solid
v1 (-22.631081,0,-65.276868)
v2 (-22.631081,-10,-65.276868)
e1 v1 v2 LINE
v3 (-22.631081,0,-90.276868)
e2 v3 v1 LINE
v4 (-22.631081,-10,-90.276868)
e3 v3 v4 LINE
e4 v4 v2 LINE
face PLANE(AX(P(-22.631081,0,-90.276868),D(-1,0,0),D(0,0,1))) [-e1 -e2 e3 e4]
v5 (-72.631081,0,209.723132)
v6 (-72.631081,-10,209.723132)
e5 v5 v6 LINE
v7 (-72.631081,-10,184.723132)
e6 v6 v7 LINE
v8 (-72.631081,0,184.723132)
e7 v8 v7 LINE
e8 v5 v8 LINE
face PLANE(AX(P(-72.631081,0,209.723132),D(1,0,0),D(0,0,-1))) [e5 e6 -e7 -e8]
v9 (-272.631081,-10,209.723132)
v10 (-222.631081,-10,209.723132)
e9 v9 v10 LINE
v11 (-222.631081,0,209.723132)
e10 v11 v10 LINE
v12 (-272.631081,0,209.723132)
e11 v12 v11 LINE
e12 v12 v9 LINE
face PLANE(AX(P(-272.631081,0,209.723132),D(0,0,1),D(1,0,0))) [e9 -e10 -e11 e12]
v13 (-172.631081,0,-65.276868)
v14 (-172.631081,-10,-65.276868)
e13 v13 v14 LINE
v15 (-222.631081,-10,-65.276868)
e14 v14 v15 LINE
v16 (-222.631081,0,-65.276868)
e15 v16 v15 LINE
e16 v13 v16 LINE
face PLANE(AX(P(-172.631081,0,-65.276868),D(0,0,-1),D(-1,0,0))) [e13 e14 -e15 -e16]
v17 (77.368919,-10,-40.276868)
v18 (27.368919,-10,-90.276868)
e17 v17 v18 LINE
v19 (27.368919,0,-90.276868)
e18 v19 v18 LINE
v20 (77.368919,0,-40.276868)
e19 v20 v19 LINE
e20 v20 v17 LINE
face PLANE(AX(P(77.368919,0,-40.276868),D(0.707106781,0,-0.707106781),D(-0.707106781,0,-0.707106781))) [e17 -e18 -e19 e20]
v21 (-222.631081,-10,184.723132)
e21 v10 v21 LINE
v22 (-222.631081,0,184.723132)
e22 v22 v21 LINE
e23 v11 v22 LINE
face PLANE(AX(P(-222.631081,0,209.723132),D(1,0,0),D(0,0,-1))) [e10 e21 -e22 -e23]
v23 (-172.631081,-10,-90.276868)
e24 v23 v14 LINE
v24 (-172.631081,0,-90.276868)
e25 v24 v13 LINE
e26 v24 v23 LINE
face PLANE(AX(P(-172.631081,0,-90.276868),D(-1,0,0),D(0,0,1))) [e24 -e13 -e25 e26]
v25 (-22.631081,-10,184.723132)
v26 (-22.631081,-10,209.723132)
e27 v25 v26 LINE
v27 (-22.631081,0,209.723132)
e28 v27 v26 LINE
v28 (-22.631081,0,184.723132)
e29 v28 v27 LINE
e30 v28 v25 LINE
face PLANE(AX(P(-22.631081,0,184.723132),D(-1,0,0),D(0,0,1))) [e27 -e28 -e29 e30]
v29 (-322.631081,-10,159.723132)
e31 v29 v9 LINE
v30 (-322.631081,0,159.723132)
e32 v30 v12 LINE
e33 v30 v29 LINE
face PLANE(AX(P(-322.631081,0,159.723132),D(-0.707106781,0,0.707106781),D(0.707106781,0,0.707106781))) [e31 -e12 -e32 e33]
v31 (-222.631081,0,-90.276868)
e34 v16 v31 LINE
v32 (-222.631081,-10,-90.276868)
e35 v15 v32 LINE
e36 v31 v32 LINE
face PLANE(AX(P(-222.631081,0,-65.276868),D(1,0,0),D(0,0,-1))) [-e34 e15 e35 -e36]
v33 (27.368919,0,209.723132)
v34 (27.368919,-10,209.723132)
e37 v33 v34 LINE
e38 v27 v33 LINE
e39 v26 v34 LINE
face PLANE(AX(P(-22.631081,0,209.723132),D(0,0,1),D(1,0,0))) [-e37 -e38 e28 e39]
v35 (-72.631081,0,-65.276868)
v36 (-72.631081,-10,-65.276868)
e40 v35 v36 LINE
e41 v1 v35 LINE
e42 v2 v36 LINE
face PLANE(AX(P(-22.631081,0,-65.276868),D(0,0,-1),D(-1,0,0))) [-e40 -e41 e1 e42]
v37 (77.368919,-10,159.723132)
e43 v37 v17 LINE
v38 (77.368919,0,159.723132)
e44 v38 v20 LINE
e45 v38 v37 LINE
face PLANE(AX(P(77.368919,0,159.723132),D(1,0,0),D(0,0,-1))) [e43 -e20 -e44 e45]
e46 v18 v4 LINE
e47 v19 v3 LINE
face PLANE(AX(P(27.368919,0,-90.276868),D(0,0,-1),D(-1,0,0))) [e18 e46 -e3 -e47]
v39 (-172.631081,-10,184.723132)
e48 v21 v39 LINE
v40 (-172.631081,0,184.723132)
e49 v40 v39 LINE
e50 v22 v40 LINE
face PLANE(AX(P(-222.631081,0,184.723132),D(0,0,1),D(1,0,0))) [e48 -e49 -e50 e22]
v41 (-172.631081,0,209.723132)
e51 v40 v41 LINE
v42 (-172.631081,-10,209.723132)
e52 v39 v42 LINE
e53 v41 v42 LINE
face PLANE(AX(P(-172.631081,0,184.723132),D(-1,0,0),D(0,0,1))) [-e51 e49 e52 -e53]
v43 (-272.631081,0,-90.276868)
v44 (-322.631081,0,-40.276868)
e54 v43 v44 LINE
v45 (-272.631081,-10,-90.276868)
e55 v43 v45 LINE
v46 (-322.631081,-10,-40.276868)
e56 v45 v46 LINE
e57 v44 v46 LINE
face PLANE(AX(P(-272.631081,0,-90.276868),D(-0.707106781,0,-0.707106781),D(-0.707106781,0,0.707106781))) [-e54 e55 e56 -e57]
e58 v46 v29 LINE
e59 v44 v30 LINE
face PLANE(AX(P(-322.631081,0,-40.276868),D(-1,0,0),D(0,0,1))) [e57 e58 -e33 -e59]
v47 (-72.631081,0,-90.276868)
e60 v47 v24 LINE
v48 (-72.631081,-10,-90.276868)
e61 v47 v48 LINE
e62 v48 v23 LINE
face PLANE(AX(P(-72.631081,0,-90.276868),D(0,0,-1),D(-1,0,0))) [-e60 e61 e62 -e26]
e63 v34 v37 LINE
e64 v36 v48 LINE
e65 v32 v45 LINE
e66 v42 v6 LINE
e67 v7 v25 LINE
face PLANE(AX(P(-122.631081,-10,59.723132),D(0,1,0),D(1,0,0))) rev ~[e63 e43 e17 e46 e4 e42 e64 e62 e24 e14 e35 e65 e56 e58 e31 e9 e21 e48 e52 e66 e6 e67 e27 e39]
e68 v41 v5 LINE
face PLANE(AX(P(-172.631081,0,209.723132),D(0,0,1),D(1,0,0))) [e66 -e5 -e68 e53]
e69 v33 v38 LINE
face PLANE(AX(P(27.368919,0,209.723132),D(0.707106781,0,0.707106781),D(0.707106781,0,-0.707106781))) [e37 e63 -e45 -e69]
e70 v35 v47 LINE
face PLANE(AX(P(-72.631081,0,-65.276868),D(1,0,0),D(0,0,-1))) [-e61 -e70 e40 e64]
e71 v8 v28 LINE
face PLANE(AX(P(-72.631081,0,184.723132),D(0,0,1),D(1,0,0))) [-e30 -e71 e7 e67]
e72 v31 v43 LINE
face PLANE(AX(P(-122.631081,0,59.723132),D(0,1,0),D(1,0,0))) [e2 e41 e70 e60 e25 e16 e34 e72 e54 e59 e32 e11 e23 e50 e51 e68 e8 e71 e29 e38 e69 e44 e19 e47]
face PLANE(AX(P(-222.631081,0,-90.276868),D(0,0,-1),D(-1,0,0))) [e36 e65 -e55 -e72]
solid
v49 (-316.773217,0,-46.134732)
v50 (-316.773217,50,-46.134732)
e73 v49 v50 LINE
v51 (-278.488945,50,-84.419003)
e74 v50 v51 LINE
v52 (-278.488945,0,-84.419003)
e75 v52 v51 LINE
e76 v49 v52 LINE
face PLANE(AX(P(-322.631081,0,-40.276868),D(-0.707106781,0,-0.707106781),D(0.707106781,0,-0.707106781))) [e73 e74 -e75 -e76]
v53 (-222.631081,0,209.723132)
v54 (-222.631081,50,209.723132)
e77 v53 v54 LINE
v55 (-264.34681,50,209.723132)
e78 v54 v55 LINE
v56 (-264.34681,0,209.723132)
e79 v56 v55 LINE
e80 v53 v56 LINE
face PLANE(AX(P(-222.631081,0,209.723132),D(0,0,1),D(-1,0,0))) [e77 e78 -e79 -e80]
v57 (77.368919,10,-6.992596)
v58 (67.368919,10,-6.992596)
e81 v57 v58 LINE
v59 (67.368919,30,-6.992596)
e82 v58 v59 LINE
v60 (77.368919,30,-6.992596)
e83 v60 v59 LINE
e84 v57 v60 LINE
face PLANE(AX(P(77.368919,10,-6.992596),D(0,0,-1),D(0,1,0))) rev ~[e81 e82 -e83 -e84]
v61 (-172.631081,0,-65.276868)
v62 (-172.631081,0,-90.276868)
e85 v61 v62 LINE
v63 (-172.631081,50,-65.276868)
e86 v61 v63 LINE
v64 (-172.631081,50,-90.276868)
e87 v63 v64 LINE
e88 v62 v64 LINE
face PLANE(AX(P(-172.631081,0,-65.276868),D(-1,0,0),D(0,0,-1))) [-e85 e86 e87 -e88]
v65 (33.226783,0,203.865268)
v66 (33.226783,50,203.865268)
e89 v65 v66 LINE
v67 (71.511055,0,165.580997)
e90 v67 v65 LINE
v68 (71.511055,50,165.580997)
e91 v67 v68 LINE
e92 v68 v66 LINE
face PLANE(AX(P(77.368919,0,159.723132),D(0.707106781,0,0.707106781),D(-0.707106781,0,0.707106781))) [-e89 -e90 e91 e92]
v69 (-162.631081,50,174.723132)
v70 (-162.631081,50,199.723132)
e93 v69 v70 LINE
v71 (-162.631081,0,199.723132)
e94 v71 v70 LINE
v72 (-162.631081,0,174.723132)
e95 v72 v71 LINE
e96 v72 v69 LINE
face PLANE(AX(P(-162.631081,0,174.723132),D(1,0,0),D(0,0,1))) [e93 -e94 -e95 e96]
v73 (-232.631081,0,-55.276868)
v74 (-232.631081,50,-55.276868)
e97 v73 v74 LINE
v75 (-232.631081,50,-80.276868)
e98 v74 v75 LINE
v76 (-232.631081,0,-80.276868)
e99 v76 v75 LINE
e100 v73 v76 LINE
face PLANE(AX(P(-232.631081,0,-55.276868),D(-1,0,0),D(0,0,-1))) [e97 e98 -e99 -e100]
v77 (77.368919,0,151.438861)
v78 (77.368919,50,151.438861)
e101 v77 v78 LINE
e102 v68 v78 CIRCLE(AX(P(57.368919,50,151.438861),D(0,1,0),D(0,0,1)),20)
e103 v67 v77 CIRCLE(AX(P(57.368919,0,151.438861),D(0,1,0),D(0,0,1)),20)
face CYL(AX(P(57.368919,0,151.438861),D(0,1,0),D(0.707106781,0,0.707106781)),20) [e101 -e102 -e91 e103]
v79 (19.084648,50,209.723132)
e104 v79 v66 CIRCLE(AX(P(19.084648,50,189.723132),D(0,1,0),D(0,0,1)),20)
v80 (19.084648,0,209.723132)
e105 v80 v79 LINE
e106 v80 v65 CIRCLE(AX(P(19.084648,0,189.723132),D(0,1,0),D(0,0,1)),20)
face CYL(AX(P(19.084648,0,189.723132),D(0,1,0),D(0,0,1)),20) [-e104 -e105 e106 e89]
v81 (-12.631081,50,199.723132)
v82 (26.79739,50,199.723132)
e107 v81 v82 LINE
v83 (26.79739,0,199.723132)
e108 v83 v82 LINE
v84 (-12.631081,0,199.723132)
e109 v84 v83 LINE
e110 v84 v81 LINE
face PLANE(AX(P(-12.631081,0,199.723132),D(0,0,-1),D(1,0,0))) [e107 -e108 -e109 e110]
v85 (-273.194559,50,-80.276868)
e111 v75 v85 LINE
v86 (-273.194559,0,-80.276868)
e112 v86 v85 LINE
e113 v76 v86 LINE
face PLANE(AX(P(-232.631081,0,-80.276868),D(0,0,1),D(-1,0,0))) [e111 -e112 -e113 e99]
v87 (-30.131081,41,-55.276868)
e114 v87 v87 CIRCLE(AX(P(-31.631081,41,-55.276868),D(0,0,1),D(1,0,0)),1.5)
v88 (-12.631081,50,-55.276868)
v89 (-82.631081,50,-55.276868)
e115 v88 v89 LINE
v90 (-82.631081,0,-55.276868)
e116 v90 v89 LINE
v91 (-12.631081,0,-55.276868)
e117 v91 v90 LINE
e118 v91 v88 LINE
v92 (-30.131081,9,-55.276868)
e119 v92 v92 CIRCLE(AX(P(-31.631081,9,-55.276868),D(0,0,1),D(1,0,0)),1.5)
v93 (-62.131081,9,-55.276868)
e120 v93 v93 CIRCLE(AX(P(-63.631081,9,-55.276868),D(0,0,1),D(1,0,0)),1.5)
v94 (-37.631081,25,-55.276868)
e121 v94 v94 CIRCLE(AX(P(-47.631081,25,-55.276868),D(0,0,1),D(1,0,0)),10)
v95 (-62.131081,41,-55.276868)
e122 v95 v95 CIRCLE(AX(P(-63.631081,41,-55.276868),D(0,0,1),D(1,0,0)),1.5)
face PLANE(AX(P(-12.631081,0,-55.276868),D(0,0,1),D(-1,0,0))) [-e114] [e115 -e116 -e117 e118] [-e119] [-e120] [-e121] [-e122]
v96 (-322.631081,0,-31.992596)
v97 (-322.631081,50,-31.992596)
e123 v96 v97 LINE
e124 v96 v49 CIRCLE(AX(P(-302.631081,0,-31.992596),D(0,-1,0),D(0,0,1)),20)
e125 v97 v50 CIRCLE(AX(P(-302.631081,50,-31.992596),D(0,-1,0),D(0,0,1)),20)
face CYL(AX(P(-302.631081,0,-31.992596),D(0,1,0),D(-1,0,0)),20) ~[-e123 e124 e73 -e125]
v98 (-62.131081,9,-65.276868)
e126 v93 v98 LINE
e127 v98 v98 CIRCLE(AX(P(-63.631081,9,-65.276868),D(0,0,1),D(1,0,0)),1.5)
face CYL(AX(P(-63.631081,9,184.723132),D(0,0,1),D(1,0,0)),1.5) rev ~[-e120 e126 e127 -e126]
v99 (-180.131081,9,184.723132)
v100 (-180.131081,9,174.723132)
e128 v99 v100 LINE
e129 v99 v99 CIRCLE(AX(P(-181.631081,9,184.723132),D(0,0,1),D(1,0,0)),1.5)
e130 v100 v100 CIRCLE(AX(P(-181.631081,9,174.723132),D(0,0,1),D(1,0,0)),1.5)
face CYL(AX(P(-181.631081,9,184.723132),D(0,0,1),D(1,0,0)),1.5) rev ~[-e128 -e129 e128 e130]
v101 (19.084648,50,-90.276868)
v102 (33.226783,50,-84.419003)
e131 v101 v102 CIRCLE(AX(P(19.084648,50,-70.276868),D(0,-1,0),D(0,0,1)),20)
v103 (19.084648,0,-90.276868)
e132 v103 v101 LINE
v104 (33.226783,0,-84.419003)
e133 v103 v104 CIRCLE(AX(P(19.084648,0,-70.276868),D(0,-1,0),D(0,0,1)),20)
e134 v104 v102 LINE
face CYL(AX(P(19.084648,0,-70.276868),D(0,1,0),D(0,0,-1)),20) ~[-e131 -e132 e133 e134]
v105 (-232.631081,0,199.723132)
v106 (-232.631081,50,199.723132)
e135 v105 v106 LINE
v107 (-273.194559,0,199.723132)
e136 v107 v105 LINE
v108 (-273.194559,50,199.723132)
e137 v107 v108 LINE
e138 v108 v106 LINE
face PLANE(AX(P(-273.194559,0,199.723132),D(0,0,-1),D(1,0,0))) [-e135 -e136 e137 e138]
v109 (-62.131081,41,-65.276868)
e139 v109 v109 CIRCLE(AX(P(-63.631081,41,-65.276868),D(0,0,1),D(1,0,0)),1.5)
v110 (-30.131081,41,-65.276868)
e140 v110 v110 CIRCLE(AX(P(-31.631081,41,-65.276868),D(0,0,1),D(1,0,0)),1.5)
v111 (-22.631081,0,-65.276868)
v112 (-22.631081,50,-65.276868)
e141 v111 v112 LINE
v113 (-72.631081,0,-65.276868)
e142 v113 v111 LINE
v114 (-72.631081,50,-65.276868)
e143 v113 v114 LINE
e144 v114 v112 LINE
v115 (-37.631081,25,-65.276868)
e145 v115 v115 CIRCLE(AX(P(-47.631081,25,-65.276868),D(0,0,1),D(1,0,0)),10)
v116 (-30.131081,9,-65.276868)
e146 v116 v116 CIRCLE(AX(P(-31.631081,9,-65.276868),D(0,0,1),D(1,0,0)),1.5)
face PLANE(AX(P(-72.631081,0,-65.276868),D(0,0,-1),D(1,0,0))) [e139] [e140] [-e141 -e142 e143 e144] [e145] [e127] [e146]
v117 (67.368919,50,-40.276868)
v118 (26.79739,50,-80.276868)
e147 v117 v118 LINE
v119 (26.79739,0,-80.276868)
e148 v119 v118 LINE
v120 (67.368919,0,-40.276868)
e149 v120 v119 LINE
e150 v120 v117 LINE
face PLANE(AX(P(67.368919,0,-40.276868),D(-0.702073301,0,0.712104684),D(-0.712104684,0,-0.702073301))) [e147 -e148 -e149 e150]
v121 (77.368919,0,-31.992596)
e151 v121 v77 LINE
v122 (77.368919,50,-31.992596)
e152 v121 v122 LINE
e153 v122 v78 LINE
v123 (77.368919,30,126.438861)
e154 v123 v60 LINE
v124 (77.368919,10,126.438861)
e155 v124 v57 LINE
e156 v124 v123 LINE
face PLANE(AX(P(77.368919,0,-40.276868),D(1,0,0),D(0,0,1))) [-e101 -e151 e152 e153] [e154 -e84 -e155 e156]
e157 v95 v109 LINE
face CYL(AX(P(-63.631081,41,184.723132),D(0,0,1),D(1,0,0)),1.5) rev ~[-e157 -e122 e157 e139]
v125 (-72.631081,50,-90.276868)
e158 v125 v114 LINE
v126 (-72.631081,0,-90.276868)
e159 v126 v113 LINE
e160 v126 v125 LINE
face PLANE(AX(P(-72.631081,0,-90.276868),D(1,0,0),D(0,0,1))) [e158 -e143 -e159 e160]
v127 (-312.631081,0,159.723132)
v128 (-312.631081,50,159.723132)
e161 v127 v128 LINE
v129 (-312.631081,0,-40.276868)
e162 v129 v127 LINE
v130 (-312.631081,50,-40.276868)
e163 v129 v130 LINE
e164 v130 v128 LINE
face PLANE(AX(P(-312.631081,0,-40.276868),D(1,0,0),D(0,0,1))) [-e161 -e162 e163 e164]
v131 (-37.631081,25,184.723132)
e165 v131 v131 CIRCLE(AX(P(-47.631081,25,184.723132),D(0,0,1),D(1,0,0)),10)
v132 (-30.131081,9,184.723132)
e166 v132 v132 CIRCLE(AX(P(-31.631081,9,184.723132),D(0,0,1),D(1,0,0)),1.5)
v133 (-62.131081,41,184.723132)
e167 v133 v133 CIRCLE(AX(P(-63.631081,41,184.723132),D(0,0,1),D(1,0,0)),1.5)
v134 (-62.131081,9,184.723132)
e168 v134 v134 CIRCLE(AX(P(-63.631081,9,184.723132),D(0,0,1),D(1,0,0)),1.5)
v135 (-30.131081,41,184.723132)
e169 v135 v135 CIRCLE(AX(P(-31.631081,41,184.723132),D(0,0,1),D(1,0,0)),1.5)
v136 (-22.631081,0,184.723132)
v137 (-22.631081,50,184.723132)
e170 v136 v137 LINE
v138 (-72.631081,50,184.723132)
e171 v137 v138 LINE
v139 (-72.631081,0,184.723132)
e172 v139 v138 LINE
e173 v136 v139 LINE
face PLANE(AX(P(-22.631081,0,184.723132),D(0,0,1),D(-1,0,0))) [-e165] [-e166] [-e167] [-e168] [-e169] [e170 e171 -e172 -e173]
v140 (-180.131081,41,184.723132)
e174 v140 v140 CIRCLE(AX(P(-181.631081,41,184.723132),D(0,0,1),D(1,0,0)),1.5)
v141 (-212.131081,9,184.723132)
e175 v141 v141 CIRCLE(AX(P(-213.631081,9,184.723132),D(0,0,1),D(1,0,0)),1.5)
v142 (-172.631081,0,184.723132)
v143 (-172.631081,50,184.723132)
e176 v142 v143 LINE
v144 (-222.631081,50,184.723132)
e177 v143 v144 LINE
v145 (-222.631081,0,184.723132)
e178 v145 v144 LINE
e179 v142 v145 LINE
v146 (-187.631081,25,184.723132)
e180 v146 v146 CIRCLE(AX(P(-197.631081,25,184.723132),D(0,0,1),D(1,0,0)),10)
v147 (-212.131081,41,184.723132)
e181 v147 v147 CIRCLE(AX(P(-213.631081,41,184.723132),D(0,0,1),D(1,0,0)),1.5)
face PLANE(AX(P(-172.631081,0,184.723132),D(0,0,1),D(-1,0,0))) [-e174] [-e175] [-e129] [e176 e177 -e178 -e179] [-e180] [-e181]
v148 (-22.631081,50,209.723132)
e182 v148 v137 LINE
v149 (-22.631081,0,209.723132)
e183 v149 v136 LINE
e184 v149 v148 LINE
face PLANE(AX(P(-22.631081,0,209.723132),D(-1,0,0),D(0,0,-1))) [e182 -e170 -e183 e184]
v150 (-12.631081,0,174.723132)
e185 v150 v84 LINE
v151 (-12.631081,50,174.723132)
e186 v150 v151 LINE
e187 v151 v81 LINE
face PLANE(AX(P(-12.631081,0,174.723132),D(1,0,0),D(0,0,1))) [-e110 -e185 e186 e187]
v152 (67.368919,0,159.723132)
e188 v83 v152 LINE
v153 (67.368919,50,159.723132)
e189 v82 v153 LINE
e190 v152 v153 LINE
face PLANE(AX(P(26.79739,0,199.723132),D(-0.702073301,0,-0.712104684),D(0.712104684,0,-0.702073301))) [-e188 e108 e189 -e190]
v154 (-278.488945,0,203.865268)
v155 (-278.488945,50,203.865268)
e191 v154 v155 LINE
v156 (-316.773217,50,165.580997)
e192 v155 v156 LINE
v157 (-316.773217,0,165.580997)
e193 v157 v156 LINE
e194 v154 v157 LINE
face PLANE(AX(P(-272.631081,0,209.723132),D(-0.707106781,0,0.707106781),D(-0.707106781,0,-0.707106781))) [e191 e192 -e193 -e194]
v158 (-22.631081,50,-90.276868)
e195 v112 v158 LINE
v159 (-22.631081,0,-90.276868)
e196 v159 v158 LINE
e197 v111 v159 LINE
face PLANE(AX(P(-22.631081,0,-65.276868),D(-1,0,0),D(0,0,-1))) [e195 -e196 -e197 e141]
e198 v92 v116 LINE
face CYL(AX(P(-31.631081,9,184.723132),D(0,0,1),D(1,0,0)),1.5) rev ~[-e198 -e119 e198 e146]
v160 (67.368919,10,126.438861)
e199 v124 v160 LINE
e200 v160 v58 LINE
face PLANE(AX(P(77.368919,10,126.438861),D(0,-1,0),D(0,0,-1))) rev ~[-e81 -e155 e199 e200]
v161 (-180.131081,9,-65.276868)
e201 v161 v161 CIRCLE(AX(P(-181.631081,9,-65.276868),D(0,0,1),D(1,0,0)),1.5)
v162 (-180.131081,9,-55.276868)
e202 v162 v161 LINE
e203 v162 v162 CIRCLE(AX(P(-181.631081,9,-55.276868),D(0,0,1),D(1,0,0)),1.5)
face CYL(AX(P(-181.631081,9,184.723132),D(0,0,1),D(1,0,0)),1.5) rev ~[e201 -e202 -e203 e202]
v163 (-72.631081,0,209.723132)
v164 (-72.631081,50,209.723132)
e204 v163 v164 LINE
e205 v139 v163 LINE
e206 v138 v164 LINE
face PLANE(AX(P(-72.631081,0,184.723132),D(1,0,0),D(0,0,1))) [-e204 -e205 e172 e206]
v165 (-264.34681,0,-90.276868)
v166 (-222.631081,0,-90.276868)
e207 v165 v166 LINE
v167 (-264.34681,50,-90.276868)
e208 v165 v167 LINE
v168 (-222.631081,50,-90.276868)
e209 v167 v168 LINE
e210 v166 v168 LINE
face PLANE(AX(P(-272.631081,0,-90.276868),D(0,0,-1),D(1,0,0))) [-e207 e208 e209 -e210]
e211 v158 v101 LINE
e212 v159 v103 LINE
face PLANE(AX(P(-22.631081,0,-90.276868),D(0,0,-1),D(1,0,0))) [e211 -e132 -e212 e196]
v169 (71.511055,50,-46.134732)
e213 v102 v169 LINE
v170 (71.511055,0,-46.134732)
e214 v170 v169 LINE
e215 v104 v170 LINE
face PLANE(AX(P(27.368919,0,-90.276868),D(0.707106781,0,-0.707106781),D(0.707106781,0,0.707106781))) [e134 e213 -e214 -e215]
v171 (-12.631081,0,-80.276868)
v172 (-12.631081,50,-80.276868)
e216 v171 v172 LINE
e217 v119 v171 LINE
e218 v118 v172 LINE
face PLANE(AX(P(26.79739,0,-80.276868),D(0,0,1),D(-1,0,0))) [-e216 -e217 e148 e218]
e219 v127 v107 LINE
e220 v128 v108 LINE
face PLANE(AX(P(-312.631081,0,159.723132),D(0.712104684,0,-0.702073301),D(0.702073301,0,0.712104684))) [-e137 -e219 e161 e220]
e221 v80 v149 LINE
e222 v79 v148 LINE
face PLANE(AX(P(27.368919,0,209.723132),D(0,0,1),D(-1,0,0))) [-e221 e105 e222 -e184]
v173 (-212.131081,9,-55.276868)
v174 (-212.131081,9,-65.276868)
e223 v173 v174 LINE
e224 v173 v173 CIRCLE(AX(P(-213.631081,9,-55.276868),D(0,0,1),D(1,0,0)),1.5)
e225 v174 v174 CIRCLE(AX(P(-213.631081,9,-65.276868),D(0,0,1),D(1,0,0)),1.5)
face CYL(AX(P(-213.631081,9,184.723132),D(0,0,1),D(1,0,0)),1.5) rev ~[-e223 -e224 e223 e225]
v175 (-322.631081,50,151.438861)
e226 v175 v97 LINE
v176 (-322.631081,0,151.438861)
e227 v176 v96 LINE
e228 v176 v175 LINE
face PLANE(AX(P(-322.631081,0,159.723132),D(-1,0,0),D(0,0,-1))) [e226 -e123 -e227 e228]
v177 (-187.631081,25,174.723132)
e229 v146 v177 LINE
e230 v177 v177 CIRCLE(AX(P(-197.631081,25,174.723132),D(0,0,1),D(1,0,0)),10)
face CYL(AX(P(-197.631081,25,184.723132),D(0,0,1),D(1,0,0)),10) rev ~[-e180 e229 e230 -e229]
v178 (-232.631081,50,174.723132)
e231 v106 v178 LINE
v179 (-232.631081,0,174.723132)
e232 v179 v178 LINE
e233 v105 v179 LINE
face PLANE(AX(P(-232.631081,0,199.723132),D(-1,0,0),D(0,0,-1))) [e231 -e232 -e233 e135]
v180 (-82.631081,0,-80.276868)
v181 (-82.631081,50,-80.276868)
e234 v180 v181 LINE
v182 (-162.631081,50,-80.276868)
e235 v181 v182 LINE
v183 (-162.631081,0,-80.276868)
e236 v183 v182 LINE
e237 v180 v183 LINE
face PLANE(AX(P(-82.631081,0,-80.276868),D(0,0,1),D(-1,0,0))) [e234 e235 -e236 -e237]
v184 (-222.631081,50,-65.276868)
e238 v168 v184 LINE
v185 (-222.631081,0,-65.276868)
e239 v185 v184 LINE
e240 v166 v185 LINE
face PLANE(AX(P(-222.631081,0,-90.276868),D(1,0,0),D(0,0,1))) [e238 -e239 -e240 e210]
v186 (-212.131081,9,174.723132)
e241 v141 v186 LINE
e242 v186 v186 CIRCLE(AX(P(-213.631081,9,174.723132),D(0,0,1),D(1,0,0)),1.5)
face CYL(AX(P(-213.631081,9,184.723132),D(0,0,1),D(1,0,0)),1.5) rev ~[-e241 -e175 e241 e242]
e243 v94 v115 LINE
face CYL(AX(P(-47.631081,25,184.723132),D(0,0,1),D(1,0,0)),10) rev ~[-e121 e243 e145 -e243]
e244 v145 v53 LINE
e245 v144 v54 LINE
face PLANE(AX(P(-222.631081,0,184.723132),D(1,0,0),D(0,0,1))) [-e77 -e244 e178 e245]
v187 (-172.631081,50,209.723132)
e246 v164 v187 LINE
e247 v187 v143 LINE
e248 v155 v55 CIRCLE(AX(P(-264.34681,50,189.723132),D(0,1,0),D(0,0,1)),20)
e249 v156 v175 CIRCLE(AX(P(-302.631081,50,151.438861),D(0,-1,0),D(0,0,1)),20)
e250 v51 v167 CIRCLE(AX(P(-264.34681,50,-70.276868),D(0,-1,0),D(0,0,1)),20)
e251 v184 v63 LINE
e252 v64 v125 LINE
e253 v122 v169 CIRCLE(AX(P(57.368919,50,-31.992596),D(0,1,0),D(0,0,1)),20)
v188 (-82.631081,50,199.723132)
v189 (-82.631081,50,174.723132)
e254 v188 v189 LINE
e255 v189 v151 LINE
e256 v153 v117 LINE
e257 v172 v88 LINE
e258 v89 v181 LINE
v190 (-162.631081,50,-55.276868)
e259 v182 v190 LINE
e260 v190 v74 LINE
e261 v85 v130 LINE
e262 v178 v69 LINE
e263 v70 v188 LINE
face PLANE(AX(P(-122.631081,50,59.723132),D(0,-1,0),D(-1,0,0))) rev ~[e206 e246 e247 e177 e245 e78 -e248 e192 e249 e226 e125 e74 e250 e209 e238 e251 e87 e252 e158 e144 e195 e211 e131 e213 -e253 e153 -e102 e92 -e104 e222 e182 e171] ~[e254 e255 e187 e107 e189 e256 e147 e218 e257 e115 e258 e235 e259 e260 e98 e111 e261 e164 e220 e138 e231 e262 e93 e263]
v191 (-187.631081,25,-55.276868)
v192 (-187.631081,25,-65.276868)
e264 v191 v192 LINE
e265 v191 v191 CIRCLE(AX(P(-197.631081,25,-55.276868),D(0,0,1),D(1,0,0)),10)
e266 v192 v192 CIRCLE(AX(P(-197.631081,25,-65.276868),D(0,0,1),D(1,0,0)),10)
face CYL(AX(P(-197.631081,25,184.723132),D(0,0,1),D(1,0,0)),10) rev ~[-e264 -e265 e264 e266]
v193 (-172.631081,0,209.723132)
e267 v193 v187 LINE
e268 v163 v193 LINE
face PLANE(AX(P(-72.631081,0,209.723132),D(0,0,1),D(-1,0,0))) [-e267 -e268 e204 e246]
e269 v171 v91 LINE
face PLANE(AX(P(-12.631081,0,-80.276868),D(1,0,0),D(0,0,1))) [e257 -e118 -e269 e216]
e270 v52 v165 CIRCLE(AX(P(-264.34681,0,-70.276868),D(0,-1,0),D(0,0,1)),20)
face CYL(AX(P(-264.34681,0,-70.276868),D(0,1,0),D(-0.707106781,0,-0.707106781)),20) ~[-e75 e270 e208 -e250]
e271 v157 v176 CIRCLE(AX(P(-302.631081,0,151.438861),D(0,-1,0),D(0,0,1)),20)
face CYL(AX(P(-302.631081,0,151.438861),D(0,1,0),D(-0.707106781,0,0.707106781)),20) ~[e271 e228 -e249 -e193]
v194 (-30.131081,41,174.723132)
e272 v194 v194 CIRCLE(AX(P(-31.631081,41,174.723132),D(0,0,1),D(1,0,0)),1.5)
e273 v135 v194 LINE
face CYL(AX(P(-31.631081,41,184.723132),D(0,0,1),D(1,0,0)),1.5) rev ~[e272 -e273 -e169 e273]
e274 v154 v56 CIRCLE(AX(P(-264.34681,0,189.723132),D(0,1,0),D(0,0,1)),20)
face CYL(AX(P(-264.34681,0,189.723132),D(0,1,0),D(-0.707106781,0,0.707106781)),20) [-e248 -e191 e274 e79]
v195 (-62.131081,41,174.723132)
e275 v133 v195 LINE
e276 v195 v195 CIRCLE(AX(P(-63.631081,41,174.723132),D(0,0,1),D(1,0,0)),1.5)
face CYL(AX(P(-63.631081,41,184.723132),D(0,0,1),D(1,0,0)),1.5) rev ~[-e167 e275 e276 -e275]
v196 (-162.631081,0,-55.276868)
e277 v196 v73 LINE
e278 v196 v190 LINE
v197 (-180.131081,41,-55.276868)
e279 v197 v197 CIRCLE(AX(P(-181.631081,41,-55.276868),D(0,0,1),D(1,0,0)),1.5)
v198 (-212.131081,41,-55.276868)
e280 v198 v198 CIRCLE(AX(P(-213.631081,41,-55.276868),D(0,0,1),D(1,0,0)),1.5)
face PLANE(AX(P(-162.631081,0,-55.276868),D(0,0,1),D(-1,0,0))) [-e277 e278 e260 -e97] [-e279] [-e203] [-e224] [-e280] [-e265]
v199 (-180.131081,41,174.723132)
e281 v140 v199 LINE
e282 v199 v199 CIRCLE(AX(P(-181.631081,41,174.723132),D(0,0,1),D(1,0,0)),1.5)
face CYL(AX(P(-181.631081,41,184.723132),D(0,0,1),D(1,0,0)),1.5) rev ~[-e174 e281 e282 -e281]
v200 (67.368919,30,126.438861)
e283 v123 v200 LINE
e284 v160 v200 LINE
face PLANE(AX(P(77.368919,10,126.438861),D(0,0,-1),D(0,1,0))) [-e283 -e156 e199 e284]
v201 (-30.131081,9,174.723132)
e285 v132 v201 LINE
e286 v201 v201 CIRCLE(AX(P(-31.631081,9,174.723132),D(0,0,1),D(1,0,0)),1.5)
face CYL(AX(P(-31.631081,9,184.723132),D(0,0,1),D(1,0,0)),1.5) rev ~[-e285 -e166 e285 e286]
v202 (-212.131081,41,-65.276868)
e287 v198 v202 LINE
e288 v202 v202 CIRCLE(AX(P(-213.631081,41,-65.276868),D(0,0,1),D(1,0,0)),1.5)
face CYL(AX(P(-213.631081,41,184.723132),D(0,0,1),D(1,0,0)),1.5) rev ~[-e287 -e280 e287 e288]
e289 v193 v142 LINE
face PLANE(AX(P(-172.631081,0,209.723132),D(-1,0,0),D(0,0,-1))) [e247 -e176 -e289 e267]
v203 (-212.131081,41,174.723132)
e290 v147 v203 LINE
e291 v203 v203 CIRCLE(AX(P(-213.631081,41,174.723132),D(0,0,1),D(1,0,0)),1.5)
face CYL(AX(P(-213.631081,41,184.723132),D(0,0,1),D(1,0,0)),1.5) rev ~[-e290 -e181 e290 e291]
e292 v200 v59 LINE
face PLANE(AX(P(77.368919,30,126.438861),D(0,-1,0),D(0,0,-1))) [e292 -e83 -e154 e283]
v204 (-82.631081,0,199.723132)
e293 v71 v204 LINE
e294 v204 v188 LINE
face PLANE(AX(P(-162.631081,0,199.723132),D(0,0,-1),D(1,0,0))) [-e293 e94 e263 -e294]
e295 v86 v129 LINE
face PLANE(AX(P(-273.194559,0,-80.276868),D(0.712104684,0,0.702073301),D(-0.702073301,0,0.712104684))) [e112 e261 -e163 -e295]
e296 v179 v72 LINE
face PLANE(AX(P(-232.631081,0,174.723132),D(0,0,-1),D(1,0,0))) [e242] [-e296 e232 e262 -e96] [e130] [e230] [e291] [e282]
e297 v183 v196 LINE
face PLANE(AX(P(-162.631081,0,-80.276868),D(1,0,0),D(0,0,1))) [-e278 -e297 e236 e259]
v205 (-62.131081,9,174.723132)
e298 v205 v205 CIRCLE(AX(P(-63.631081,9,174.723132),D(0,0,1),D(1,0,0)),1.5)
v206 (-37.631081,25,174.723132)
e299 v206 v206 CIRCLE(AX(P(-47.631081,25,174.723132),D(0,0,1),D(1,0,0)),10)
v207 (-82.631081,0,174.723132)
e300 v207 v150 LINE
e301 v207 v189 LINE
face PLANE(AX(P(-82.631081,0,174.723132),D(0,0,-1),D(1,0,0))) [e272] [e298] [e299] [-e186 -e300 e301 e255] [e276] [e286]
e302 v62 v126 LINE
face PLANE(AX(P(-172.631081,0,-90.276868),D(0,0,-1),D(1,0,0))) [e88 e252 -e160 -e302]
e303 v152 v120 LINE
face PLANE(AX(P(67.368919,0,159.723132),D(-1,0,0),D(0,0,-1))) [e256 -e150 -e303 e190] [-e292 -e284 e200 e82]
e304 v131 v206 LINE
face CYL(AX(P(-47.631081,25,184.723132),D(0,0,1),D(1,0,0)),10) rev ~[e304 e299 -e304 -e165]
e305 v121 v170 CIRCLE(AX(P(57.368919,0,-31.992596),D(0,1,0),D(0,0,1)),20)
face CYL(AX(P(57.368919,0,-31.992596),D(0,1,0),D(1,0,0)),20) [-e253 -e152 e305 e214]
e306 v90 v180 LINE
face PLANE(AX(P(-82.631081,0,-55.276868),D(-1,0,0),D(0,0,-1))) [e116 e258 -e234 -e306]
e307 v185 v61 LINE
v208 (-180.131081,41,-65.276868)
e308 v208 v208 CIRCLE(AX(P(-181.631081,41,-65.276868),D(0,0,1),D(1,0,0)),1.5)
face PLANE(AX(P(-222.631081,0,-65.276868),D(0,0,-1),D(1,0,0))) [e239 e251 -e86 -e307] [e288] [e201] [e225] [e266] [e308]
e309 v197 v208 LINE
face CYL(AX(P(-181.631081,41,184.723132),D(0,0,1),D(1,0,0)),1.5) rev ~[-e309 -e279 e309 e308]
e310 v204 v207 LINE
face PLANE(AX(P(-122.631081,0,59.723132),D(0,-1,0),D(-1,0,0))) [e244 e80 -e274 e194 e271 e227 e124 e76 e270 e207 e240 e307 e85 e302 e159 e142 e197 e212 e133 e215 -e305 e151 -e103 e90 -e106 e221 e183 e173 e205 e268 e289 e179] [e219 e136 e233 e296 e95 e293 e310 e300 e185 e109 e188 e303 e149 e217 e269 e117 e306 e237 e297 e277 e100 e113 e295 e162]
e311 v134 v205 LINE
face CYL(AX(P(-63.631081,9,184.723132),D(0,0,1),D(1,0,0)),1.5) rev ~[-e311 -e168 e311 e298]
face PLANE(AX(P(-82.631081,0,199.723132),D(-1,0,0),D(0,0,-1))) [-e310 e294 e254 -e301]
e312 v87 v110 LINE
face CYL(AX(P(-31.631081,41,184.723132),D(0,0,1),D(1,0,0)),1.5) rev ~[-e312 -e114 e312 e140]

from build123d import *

# Parameters (mm, degrees)
BOSS_EXTRUDE2_DEPTH = 50
BOSS_EXTRUDE4_DEPTH = 10
SKETCH6_R           = 10
SKETCH6_R_2         = 1.5
CUT_EXTRUDE3_DEPTH  = 427.86744359
SKETCH8_R           = 10
SKETCH8_R_2         = 1.5
CUT_EXTRUDE4_DEPTH  = 427.86744359
FILLET2_R           = 20
SKETCH9_W           = 133.431457505
SKETCH9_H           = 20
CUT_EXTRUDE5_DEPTH  = 10


with BuildPart() as part:
    # Sketch1 → Boss-Extrude2 (new body)
    with BuildSketch(Plane(origin=(0, 0, 0), x_dir=(1, 0, 0), z_dir=(0, 1, 0))):
        Polygon((-272.631080953, -209.723132334), (-322.631080953, -159.723132334), (-322.631080953, 40.276867666), (-272.631080953, 90.276867666), (-222.631080953, 90.276867666), (-222.631080953, 65.276867666), (-172.631080953, 65.276867666), (-172.631080953, 90.276867666), (-72.631080953, 90.276867666), (-72.631080953, 65.276867666), (-22.631080953, 65.276867666), (-22.631080953, 90.276867666), (27.368919047, 90.276867666), (77.368919047, 40.276867666), (77.368919047, -159.723132334), (27.368919047, -209.723132334), (-22.631080953, -209.723132334), (-22.631080953, -184.723132334), (-72.631080953, -184.723132334), (-72.631080953, -209.723132334), (-172.631080953, -209.723132334), (-172.631080953, -184.723132334), (-222.631080953, -184.723132334), (-222.631080953, -209.723132334), align=None)
        Polygon((-312.631080953, -159.723132334), (-273.194558937, -199.723132334), (-232.631080953, -199.723132334), (-232.631080953, -174.723132334), (-162.631080953, -174.723132334), (-162.631080953, -199.723132334), (-82.631080953, -199.723132334), (-82.631080953, -174.723132334), (-12.631080953, -174.723132334), (-12.631080953, -199.723132334), (26.797389961, -199.723132334), (67.368919047, -159.723132334), (67.368919047, 40.276867666), (26.797389961, 80.276867666), (-12.631080953, 80.276867666), (-12.631080953, 55.276867666), (-82.631080953, 55.276867666), (-82.631080953, 80.276867666), (-162.631080953, 80.276867666), (-162.631080953, 55.276867666), (-232.631080953, 55.276867666), (-232.631080953, 80.276867666), (-273.194558937, 80.276867666), (-312.631080953, 40.276867666), align=None, mode=Mode.SUBTRACT)
    extrude(amount=BOSS_EXTRUDE2_DEPTH)

    # Sketch6 → Cut-Extrude3 (cut, through all)
    with BuildSketch(Plane.XY.offset(184.723132334)):
        with Locations((-47.631080953, 25)):
            Circle(SKETCH6_R)
        with Locations((-31.631080953, 41)):
            Circle(SKETCH6_R_2)
        with Locations((-63.631080953, 41)):
            Circle(SKETCH6_R_2)
        with Locations((-63.631080953, 9)):
            Circle(SKETCH6_R_2)
        with Locations((-31.631080953, 9)):
            Circle(SKETCH6_R_2)
    extrude(amount=-CUT_EXTRUDE3_DEPTH, mode=Mode.SUBTRACT)

    # Sketch8 → Cut-Extrude4 (cut, through all)
    with BuildSketch(Plane.XY.offset(184.723132334)):
        with Locations((-197.631080953, 25)):
            Circle(SKETCH8_R)
        with Locations((-181.631080953, 41)):
            Circle(SKETCH8_R_2)
        with Locations((-213.631080953, 41)):
            Circle(SKETCH8_R_2)
        with Locations((-213.631080953, 9)):
            Circle(SKETCH8_R_2)
        with Locations((-181.631080953, 9)):
            Circle(SKETCH8_R_2)
    extrude(amount=-CUT_EXTRUDE4_DEPTH, mode=Mode.SUBTRACT)

    # Fillet2
    fillet2_edges = [part.edges().sort_by_distance(p)[0] for p in [
        (-322.631080953, 25, 159.723132334),
        (-322.631080953, 25, -40.276867666),
        (-272.631080953, 25, -90.276867666),
        (27.368919047, 25, -90.276867666),
        (77.368919047, 25, -40.276867666),
        (77.368919047, 25, 159.723132334),
        (27.368919047, 25, 209.723132334),
        (-272.631080953, 25, 209.723132334),
    ]]
    fillet(fillet2_edges, radius=FILLET2_R)

    # Sketch9 → Cut-Extrude5 (cut)
    with BuildSketch(Plane(origin=(77.368919047, 0, 0), x_dir=(0, 0, -1), z_dir=(1, 0, 0))):
        with Locations((-59.723132334, 20)):
            Rectangle(SKETCH9_W, SKETCH9_H)
    extrude(amount=-CUT_EXTRUDE5_DEPTH, mode=Mode.SUBTRACT)


with BuildPart() as body_2:
    # Sketch5 → Boss-Extrude4 (new body)
    with BuildSketch(Plane(origin=(0, 0, 0), x_dir=(1, 0, 0), z_dir=(0, 1, 0))):
        Polygon((-322.631080953, 40.276867666), (-322.631080953, -159.723132334), (-272.631080953, -209.723132334), (-222.631080953, -209.723132334), (-222.631080953, -184.723132334), (-172.631080953, -184.723132334), (-172.631080953, -209.723132334), (-72.631080953, -209.723132334), (-72.631080953, -184.723132334), (-22.631080953, -184.723132334), (-22.631080953, -209.723132334), (27.368919047, -209.723132334), (77.368919047, -159.723132334), (77.368919047, 40.276867666), (27.368919047, 90.276867666), (-22.631080953, 90.276867666), (-22.631080953, 65.276867666), (-72.631080953, 65.276867666), (-72.631080953, 90.276867666), (-172.631080953, 90.276867666), (-172.631080953, 65.276867666), (-222.631080953, 65.276867666), (-222.631080953, 90.276867666), (-272.631080953, 90.276867666), align=None)
    extrude(amount=-BOSS_EXTRUDE4_DEPTH)


solid = Compound([part.part, body_2.part])
